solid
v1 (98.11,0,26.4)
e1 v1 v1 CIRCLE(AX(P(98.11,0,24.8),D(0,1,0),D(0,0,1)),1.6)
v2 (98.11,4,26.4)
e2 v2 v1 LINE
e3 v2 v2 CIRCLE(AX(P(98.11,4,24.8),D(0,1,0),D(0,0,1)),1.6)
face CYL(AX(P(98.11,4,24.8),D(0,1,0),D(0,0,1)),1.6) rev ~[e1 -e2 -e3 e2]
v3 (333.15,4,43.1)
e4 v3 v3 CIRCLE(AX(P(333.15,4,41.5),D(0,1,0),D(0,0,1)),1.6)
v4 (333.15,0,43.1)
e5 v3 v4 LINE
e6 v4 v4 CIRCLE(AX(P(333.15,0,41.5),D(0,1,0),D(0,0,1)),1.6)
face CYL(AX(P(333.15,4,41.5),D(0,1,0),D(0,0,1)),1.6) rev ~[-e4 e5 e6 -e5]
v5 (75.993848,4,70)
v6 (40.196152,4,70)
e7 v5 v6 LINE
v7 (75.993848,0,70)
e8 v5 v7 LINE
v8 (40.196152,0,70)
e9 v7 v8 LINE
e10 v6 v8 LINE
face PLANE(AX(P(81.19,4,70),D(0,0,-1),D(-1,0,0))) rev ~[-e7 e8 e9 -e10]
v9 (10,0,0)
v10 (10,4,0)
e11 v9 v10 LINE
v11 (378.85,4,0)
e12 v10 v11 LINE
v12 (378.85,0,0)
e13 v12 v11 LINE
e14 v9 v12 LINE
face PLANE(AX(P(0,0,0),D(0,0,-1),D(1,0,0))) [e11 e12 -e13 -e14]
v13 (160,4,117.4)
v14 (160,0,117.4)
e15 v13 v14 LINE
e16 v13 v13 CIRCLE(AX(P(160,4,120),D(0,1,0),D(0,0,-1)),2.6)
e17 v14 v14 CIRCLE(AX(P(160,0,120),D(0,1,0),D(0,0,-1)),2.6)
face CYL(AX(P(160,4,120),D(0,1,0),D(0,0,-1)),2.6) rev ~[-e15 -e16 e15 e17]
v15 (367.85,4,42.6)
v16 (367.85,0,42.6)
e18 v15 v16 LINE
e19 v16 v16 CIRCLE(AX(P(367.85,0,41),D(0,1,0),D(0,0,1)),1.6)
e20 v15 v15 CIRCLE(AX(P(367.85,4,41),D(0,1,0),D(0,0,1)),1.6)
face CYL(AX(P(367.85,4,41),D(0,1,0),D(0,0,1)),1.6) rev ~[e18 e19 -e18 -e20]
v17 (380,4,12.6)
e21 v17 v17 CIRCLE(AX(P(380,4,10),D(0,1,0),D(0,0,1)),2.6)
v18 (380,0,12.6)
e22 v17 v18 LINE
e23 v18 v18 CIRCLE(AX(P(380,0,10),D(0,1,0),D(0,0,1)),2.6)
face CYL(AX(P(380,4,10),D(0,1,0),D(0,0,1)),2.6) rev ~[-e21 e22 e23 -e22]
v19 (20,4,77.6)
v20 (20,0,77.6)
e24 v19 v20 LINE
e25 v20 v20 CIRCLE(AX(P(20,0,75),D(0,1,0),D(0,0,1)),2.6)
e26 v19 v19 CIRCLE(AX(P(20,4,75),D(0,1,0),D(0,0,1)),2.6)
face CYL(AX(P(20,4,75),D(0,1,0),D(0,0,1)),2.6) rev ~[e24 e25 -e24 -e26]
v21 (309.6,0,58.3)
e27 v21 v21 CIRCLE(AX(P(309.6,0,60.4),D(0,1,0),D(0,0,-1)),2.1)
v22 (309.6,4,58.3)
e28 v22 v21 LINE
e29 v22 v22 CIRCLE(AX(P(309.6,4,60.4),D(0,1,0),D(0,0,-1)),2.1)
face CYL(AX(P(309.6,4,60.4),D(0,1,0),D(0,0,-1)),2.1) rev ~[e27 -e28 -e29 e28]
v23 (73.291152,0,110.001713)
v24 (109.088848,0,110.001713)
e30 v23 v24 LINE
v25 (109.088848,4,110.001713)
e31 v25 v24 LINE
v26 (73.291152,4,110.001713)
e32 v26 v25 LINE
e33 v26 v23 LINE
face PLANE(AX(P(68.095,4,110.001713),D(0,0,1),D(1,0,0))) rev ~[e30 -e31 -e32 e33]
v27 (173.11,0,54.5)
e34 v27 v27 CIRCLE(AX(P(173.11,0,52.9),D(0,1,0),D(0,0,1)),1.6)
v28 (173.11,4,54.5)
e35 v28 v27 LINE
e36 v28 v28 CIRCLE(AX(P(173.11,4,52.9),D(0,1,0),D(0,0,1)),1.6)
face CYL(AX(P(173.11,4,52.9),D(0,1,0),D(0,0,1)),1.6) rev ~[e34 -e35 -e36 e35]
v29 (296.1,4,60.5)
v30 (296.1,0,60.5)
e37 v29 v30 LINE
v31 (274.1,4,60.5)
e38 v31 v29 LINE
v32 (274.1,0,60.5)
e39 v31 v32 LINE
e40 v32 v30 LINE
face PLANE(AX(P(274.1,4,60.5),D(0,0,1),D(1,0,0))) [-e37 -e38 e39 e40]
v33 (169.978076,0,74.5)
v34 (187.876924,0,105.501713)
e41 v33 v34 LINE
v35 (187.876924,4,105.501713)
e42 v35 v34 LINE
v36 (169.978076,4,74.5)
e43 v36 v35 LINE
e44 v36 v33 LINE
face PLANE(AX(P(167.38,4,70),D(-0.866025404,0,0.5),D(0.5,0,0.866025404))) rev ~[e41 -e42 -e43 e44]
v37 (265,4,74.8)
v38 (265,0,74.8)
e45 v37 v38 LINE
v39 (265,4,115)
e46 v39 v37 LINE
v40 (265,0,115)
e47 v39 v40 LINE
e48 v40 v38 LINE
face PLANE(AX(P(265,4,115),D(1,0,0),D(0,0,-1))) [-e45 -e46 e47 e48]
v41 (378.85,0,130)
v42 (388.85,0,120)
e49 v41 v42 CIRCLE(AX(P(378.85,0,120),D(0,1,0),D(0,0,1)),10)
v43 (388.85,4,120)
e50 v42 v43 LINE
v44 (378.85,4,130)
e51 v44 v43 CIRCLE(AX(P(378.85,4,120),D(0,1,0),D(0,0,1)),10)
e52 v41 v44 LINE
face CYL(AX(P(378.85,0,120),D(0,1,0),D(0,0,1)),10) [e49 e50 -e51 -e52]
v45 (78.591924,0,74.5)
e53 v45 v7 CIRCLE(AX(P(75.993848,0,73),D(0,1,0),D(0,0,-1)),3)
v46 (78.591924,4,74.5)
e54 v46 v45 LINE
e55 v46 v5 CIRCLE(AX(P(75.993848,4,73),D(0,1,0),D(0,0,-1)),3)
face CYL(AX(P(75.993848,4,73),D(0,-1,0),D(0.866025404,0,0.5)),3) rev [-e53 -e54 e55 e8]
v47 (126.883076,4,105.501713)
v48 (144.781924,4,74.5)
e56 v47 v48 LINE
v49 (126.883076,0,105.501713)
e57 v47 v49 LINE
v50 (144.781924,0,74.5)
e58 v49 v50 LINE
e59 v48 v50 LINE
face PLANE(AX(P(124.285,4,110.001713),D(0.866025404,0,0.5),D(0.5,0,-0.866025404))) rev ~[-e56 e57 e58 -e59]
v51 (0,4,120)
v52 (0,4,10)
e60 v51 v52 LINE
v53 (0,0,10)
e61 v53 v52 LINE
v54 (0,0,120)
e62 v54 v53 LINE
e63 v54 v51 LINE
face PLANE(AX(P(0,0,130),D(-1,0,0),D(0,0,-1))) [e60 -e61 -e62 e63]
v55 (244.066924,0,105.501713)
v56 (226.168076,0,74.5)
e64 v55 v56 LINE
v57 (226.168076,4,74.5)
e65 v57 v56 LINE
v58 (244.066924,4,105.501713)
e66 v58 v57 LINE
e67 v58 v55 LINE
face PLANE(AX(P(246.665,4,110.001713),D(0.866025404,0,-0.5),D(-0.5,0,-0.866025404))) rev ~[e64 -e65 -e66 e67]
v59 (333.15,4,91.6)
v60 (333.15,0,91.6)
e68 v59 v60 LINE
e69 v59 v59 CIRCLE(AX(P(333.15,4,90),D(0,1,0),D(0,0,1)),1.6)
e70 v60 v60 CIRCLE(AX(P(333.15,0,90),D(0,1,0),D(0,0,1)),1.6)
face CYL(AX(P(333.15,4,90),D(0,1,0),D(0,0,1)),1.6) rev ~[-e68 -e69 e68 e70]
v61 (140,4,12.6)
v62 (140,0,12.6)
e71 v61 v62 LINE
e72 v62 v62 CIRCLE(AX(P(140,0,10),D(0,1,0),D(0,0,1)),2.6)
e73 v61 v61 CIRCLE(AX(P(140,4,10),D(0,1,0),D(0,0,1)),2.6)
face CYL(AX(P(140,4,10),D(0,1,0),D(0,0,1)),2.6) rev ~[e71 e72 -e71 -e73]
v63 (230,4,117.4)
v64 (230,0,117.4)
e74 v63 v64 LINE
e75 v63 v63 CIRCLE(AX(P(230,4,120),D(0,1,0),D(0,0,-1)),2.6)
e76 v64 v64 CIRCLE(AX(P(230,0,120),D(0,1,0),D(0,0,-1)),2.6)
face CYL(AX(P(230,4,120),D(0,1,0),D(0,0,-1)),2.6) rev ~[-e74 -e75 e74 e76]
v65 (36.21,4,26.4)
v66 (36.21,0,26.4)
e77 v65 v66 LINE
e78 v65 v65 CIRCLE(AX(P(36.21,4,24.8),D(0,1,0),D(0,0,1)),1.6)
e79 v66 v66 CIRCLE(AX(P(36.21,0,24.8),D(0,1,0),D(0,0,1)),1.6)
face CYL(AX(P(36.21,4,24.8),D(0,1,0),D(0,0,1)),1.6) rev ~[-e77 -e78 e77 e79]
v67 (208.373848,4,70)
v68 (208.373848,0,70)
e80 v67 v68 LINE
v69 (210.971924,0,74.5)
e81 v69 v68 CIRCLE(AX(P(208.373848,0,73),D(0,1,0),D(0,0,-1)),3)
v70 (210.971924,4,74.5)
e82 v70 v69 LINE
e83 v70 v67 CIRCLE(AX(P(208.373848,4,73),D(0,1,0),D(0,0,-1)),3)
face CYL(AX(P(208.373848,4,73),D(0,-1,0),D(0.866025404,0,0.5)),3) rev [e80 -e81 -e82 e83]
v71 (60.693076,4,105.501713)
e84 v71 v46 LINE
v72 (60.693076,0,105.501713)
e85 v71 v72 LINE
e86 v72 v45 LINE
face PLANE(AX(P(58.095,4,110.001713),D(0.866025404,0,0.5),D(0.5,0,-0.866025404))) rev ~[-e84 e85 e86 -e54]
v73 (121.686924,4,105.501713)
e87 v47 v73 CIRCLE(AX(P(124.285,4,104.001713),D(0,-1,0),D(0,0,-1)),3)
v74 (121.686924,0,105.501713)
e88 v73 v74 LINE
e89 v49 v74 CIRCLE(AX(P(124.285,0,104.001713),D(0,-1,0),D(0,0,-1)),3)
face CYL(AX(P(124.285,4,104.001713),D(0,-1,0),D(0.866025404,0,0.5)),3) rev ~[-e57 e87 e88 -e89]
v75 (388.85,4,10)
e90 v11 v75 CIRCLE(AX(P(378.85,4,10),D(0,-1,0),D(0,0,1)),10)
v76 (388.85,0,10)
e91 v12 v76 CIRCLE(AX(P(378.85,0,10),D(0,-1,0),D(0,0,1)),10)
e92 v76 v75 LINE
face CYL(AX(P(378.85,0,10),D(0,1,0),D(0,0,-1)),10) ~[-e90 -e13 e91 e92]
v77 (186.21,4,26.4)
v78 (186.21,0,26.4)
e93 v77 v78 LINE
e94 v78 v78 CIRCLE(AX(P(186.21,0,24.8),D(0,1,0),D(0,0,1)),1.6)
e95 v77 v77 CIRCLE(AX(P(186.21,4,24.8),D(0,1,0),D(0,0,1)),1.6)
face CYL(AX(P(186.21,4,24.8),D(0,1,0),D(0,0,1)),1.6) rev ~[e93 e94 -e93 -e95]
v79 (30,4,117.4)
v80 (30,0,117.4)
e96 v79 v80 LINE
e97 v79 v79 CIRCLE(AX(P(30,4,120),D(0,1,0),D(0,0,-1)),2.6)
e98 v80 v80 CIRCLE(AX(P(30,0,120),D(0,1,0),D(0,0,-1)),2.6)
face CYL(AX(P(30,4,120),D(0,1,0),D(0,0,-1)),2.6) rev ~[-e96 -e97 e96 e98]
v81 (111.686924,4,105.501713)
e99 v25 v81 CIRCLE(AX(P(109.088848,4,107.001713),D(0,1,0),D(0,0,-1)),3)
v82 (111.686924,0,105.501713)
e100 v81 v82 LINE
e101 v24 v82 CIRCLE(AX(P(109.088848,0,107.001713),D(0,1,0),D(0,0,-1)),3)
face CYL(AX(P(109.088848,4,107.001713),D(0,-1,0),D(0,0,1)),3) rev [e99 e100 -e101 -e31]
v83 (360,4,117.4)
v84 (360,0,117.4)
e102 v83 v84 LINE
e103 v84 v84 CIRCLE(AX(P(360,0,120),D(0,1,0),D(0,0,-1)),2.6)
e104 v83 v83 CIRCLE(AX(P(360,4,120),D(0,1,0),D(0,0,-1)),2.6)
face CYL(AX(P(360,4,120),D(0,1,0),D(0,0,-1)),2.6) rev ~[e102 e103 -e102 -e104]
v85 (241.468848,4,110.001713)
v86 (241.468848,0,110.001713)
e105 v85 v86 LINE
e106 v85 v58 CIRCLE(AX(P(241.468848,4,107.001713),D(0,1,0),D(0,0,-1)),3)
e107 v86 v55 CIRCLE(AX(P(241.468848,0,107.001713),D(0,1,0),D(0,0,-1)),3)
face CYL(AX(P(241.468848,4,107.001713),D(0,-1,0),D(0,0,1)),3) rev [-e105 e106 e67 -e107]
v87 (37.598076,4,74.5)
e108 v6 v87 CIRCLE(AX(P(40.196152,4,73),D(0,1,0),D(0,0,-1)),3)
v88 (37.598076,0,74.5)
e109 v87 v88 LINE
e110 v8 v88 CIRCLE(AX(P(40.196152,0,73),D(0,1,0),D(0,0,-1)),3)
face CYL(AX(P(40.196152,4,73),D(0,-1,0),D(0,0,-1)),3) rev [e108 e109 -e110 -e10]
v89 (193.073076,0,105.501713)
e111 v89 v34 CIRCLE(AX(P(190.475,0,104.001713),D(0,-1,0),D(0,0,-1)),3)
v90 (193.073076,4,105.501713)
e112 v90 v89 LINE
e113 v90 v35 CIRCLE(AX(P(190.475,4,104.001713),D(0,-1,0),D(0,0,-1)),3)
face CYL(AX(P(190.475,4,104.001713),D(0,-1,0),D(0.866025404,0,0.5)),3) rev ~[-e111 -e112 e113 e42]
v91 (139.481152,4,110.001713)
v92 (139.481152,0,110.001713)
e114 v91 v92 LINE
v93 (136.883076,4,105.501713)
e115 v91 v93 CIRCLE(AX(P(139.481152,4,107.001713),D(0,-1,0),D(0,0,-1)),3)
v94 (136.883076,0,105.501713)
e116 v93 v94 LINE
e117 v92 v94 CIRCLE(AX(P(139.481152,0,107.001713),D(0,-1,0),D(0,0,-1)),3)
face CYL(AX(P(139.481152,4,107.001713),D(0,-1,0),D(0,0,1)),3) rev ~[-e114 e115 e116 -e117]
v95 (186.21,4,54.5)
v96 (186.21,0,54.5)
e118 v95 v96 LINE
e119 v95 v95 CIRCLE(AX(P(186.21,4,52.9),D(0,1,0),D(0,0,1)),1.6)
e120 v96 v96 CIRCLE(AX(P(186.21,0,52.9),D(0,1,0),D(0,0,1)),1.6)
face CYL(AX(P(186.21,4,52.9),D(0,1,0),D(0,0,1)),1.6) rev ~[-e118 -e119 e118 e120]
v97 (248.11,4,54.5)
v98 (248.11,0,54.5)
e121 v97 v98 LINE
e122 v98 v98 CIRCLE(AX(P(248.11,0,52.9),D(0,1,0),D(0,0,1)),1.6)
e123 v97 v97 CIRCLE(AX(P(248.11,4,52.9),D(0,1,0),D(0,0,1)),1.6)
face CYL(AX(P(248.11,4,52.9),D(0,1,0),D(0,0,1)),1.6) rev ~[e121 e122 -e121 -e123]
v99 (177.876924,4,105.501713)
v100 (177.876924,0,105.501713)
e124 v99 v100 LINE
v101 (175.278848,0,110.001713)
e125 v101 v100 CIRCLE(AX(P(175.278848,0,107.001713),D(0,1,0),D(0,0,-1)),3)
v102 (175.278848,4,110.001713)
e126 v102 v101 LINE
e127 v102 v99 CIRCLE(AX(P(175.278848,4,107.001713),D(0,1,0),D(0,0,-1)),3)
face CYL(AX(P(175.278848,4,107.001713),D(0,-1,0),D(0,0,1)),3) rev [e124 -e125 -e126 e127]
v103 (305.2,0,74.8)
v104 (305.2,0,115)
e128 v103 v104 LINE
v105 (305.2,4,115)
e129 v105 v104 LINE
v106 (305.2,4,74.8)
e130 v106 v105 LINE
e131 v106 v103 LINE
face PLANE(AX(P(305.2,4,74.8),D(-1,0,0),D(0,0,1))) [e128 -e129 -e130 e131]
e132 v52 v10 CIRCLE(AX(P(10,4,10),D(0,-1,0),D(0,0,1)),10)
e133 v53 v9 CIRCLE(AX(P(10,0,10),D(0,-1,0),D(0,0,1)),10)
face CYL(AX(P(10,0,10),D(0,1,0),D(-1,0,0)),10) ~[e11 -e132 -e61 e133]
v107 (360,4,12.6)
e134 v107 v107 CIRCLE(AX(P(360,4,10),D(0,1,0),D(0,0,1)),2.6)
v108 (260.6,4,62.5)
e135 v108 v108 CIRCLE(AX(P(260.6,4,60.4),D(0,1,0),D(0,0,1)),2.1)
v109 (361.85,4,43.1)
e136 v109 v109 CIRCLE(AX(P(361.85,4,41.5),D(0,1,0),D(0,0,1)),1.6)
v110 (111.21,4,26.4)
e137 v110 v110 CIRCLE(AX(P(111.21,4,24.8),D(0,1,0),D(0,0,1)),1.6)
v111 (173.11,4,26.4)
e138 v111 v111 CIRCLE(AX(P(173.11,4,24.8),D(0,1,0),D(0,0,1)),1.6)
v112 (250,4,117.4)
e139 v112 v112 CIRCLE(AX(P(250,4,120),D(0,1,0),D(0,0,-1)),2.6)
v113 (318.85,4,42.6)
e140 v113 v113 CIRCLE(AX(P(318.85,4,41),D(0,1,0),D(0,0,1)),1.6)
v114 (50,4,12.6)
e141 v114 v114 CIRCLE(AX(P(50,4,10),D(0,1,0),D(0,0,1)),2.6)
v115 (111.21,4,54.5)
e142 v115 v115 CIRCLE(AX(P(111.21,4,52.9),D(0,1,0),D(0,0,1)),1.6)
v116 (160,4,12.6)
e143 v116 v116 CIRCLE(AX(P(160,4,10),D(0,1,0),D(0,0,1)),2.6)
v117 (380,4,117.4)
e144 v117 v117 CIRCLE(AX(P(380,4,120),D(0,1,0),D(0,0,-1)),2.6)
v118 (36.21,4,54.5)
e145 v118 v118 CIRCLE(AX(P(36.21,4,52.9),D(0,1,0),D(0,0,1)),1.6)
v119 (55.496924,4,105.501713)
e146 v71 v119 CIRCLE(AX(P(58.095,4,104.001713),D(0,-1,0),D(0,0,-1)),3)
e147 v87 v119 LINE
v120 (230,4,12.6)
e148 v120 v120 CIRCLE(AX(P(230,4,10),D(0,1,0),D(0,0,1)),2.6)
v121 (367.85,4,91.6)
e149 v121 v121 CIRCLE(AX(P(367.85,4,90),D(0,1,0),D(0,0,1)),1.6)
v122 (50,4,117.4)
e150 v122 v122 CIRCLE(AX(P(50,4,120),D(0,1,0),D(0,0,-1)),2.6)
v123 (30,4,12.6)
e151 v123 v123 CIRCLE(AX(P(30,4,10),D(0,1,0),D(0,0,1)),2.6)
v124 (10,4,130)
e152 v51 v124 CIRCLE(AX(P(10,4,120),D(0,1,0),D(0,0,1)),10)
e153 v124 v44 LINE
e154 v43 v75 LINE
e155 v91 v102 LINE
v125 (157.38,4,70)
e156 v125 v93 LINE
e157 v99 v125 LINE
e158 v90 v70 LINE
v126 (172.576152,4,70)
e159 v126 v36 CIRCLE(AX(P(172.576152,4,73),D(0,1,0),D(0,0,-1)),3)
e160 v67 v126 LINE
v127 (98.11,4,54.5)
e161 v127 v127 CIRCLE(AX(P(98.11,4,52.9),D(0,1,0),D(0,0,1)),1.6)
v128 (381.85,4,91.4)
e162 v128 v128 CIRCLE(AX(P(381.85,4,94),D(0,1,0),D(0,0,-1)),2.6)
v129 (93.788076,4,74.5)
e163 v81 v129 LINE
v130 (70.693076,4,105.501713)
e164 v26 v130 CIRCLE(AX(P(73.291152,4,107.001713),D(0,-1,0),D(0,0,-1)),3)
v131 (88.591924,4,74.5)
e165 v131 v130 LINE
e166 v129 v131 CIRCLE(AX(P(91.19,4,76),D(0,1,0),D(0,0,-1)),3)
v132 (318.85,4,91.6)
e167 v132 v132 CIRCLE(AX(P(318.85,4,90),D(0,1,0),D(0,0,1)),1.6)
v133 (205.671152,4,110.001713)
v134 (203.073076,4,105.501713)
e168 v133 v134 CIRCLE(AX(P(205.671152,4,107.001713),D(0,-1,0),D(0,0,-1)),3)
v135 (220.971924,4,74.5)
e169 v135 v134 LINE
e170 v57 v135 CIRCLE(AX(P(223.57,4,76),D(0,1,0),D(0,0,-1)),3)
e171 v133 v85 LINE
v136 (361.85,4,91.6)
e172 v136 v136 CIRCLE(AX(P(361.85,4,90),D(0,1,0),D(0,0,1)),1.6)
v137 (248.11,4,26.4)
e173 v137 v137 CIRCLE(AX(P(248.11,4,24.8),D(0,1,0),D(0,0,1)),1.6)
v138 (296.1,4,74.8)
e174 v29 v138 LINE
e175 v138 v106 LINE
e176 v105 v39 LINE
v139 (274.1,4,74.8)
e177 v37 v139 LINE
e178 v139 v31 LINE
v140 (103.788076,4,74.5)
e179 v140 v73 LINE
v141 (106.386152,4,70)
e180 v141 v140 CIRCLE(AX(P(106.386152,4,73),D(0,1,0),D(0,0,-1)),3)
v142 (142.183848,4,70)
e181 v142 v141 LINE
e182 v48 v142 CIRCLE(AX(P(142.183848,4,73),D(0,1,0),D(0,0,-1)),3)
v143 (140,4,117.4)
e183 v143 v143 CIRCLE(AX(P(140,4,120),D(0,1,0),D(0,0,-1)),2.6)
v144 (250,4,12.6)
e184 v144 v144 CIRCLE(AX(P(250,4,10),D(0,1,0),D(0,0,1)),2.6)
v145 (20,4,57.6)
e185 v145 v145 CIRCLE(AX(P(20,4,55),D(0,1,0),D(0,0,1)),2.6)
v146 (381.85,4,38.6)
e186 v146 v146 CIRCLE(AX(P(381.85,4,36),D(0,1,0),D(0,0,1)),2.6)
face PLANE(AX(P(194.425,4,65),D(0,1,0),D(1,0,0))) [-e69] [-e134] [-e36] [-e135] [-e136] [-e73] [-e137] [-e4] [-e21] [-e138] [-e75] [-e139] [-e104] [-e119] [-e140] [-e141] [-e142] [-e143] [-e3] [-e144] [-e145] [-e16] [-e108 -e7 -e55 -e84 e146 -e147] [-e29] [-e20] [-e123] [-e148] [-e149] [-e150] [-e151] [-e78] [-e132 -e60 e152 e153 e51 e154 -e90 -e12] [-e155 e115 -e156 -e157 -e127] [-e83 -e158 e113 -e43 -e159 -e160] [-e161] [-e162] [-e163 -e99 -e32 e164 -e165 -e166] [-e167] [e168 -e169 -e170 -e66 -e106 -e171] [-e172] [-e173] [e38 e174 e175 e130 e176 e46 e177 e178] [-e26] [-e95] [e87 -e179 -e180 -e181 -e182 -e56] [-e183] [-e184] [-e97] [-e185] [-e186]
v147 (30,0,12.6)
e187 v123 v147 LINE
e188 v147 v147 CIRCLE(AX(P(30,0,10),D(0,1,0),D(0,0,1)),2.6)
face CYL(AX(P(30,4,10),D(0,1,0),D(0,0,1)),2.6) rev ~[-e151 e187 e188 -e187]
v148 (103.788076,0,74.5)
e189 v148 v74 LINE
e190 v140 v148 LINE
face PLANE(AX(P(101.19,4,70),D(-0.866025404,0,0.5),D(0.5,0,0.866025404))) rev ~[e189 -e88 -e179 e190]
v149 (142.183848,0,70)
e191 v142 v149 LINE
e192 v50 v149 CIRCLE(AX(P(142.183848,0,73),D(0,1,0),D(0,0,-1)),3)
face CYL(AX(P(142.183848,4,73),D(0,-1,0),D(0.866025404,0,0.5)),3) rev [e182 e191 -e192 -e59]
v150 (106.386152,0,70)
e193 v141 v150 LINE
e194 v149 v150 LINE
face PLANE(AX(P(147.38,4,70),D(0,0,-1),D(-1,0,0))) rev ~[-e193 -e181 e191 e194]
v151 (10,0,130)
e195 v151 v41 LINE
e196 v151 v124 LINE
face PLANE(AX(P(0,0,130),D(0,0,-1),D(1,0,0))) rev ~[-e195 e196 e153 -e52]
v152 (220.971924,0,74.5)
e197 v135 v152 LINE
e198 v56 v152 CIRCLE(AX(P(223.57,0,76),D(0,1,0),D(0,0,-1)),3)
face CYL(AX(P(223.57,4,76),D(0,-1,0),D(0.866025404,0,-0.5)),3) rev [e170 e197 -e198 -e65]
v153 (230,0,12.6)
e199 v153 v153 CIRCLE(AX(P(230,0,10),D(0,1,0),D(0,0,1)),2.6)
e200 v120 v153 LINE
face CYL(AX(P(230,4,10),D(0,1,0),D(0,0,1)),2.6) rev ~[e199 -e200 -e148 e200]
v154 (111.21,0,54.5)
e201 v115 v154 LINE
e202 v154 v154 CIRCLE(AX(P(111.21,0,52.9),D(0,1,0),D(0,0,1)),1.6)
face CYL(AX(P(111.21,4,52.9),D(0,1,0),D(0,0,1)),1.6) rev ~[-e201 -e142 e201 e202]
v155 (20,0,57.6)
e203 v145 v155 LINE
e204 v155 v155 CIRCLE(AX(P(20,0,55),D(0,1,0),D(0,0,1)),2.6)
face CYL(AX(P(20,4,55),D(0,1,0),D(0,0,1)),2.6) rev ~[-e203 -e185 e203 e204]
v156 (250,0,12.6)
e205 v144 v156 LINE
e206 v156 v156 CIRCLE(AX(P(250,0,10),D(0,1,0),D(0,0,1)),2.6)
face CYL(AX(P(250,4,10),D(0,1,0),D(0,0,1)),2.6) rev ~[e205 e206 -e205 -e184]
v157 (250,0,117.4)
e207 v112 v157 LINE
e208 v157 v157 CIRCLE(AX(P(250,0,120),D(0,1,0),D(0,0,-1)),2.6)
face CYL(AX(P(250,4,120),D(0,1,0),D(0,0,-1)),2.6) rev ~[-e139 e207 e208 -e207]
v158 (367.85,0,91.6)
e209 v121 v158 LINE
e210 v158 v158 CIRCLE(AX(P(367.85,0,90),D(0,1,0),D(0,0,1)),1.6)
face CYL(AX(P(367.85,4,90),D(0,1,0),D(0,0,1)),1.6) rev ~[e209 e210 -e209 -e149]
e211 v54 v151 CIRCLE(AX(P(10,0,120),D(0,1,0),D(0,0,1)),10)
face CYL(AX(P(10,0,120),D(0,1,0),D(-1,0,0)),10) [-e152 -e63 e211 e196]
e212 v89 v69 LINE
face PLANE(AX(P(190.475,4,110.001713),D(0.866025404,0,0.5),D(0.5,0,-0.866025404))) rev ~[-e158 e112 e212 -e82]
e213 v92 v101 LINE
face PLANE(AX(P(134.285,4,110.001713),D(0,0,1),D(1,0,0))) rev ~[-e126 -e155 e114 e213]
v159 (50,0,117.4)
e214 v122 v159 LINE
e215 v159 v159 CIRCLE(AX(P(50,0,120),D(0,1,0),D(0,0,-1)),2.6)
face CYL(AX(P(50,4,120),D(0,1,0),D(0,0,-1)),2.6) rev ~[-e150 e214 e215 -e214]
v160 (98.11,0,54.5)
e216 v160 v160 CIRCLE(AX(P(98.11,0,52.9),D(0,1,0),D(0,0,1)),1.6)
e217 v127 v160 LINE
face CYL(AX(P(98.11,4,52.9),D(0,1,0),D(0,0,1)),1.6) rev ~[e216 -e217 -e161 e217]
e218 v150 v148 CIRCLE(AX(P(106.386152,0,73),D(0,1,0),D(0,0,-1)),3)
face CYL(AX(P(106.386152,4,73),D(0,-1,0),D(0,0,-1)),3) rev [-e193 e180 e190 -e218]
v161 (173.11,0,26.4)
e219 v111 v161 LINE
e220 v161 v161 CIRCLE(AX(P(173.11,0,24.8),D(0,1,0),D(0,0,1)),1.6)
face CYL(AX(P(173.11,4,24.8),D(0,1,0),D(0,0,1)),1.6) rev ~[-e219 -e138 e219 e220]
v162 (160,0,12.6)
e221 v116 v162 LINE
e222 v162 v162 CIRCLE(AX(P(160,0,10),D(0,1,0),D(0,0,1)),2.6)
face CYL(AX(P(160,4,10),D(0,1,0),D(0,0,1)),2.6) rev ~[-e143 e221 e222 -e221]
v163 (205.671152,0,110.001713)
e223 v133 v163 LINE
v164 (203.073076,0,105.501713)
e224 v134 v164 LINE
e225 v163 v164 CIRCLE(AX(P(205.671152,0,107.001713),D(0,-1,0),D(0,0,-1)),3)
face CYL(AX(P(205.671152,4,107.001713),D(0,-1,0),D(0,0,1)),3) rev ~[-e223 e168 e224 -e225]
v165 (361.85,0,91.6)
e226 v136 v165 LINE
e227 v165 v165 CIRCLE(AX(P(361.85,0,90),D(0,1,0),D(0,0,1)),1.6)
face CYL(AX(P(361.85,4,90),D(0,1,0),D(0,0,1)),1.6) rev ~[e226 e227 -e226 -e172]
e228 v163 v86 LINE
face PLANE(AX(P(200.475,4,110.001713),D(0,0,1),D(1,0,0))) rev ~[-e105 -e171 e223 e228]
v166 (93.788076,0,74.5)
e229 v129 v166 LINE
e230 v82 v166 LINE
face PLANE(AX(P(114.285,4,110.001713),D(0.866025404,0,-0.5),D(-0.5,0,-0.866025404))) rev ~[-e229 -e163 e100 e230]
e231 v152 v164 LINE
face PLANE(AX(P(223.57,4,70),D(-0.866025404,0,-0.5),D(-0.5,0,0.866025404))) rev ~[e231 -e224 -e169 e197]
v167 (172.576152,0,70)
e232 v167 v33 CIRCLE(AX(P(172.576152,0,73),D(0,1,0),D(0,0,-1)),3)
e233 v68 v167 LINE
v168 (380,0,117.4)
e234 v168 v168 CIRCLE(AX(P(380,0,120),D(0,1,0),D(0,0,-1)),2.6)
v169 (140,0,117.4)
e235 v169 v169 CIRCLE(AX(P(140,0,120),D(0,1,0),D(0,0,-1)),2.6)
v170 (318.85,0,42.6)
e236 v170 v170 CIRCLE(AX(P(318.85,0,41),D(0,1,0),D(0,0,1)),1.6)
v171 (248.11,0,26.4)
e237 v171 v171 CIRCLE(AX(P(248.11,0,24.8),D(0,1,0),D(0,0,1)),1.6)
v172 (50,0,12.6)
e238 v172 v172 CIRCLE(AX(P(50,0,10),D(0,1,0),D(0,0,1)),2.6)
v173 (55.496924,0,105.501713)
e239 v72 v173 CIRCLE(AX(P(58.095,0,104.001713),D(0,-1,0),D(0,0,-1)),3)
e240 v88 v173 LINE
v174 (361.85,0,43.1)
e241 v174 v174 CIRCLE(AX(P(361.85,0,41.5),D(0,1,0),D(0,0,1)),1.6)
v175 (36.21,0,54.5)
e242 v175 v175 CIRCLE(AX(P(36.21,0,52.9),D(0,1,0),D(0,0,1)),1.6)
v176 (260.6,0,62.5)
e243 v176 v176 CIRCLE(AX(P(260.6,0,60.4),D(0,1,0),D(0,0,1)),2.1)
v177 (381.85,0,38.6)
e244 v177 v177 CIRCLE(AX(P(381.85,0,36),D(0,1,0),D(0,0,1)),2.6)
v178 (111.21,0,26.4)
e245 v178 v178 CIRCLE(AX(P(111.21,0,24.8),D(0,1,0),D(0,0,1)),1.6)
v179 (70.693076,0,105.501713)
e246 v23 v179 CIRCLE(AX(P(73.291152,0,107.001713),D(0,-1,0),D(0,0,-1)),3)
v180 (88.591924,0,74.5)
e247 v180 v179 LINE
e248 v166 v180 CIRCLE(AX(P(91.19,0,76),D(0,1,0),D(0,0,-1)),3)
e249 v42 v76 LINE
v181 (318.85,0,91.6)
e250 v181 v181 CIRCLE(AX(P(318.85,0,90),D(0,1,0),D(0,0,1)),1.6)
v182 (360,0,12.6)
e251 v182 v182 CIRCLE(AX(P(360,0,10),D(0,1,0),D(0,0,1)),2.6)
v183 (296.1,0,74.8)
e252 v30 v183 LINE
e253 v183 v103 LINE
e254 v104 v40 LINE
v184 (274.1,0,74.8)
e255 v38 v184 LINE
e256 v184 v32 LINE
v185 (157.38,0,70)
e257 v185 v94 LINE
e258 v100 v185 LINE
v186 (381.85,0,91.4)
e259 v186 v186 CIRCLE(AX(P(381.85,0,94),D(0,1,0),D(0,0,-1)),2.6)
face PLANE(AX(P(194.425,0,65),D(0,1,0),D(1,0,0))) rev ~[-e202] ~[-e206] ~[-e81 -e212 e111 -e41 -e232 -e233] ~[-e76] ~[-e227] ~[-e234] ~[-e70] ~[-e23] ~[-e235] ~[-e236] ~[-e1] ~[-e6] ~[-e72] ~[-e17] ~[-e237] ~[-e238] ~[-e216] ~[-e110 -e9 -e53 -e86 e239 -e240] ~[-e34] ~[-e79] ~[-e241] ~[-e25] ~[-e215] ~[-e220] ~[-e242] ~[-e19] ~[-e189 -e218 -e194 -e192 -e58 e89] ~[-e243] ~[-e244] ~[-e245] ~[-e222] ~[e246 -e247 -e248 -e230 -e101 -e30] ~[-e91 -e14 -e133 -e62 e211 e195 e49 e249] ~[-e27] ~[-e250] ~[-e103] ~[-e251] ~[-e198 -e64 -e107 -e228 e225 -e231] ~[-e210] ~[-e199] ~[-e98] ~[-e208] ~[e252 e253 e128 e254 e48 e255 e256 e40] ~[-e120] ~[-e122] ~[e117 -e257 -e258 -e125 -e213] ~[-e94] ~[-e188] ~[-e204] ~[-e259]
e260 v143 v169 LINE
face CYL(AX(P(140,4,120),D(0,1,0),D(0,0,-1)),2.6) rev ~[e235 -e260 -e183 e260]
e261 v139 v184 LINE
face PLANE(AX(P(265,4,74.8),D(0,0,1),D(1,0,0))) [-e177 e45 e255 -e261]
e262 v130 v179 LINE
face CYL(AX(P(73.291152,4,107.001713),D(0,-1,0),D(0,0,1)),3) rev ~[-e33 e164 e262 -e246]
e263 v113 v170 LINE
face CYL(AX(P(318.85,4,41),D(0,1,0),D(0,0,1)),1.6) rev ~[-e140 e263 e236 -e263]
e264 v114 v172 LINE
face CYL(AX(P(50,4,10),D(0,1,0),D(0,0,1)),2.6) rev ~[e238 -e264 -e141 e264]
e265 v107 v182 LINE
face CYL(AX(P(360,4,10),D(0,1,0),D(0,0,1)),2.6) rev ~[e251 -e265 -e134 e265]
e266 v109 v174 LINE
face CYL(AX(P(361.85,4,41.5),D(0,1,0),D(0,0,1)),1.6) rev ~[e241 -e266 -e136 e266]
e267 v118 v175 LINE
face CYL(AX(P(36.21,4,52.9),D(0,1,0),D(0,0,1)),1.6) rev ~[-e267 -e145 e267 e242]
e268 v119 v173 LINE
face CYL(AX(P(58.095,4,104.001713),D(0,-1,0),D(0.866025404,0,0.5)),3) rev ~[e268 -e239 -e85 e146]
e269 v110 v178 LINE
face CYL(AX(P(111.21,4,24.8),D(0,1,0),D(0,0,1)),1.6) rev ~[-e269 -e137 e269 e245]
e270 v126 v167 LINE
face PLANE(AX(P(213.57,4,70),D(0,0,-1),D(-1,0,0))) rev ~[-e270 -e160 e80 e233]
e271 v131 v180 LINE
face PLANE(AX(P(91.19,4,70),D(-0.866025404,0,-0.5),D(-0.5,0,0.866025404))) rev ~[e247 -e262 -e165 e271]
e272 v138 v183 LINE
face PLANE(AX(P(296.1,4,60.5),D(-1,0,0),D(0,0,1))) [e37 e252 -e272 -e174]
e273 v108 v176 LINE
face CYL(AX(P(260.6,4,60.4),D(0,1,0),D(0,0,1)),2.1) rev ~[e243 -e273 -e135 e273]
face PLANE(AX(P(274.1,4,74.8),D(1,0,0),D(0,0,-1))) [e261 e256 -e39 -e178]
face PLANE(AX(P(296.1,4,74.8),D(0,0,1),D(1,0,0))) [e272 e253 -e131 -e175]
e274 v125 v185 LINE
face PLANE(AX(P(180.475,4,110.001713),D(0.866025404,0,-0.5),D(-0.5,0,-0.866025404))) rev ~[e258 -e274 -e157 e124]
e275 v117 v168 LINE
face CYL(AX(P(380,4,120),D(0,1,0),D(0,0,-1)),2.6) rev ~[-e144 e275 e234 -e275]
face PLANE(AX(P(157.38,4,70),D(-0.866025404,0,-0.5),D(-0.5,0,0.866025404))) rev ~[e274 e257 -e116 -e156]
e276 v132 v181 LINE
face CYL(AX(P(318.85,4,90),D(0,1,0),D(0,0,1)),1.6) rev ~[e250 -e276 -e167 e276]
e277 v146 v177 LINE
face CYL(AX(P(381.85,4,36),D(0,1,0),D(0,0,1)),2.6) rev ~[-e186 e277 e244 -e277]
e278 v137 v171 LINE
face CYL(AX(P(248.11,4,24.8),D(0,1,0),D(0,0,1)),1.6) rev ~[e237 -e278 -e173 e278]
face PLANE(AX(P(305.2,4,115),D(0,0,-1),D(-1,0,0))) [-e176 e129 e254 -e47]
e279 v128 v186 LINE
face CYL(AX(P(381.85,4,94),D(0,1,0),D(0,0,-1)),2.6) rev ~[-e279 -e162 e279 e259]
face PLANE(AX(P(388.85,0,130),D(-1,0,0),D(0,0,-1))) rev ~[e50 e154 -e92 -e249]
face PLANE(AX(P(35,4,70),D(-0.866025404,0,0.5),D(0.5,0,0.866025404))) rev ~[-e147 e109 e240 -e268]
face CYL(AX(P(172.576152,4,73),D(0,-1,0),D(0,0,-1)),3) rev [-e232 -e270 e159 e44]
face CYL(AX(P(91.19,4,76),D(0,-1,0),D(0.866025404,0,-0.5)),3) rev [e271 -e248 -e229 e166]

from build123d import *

# Parameters (mm, degrees)
SKETCH_1_W          = 388.85
SKETCH_1_H          = 130
EXTRUDE_1_DEPTH     = 4
SKETCH_2_R          = 1.6
CUT_EXTRUDE_1_DEPTH = 4
SKETCH_3_R          = 2.6
CUT_EXTRUDE_2_DEPTH = 411.024782788
SKETCH_5_R          = 2.6
CUT_EXTRUDE_3_DEPTH = 411.024782788
SKETCH_7_R          = 2.1
CUT_EXTRUDE_5_DEPTH = 411.024782788
SKETCH_8_R          = 1.6
CUT_EXTRUDE_6_DEPTH = 411.024782788
SKETCH_9_R          = 1.6
CUT_EXTRUDE_7_DEPTH = 411.024782788
SKETCH_10_R         = 2.6
CUT_EXTRUDE_8_DEPTH = 411.024782788
FILLET_1_R          = 10
CUT_EXTRUDE_9_DEPTH = 411.024782788
FILLET_2_R          = 3


with BuildPart() as part:
    # 草图1 → 凸台-拉伸1 (new body)
    with BuildSketch(Plane(origin=(0, 0, 0), x_dir=(1, 0, 0), z_dir=(0, 1, 0))):
        with Locations((194.425, -65)):
            Rectangle(SKETCH_1_W, SKETCH_1_H)
    extrude(amount=EXTRUDE_1_DEPTH)

    # 草图2 → 切除-拉伸1 (cut)
    with BuildSketch(Plane(origin=(0, 4, 0), x_dir=(1, 0, 0), z_dir=(0, 1, 0))):
        with Locations(Location((36.21, -52.9, 0), (0, 0, 270))):
            Circle(SKETCH_2_R)
        with Locations(Location((98.11, -52.9, 0), (0, 0, 270))):
            Circle(SKETCH_2_R)
        with Locations(Location((98.11, -24.8, 0), (0, 0, 270))):
            Circle(SKETCH_2_R)
        with Locations(Location((111.21, -24.8, 0), (0, 0, 270))):
            Circle(SKETCH_2_R)
        with Locations(Location((111.21, -52.9, 0), (0, 0, 270))):
            Circle(SKETCH_2_R)
        with Locations(Location((173.11, -24.8, 0), (0, 0, 270))):
            Circle(SKETCH_2_R)
        with Locations(Location((173.11, -52.9, 0), (0, 0, 270))):
            Circle(SKETCH_2_R)
        with Locations(Location((186.21, -24.8, 0), (0, 0, 270))):
            Circle(SKETCH_2_R)
        with Locations(Location((186.21, -52.9, 0), (0, 0, 270))):
            Circle(SKETCH_2_R)
        with Locations(Location((248.11, -52.9, 0), (0, 0, 270))):
            Circle(SKETCH_2_R)
        with Locations(Location((36.21, -24.8, 0), (0, 0, 270))):
            Circle(SKETCH_2_R)
        with Locations(Location((248.11, -24.8, 0), (0, 0, 270))):
            Circle(SKETCH_2_R)
    extrude(amount=-CUT_EXTRUDE_1_DEPTH, mode=Mode.SUBTRACT)

    # 草图3 → 切除-拉伸2 (cut, through all)
    with BuildSketch(Plane(origin=(0, 4, 0), x_dir=(1, 0, 0), z_dir=(0, 1, 0))):
        with Locations(Location((20, -75, 0), (0, 0, 270))):
            Circle(SKETCH_3_R)
        with Locations(Location((20, -55, 0), (0, 0, 270))):
            Circle(SKETCH_3_R)
    extrude(amount=-CUT_EXTRUDE_2_DEPTH, mode=Mode.SUBTRACT)

    # 草图5 → 切除-拉伸3 (cut, through all)
    with BuildSketch(Plane(origin=(0, 4, 0), x_dir=(1, 0, 0), z_dir=(0, 1, 0))):
        with Locations(Location((30, -10, 0), (0, 0, 270))):
            Circle(SKETCH_5_R)
        with Locations(Location((50, -10, 0), (0, 0, 270))):
            Circle(SKETCH_5_R)
        with Locations(Location((140, -10, 0), (0, 0, 270))):
            Circle(SKETCH_5_R)
        with Locations(Location((160, -10, 0), (0, 0, 270))):
            Circle(SKETCH_5_R)
        with Locations(Location((230, -10, 0), (0, 0, 270))):
            Circle(SKETCH_5_R)
        with Locations(Location((250, -10, 0), (0, 0, 270))):
            Circle(SKETCH_5_R)
        with Locations(Location((360, -10, 0), (0, 0, 270))):
            Circle(SKETCH_5_R)
        with Locations(Location((380, -10, 0), (0, 0, 270))):
            Circle(SKETCH_5_R)
        with Locations(Location((380, -120, 0), (0, 0, 90))):
            Circle(SKETCH_5_R)
        with Locations(Location((360, -120, 0), (0, 0, 90))):
            Circle(SKETCH_5_R)
        with Locations(Location((250, -120, 0), (0, 0, 90))):
            Circle(SKETCH_5_R)
        with Locations(Location((230, -120, 0), (0, 0, 90))):
            Circle(SKETCH_5_R)
        with Locations(Location((160, -120, 0), (0, 0, 90))):
            Circle(SKETCH_5_R)
        with Locations(Location((140, -120, 0), (0, 0, 90))):
            Circle(SKETCH_5_R)
        with Locations(Location((50, -120, 0), (0, 0, 90))):
            Circle(SKETCH_5_R)
        with Locations(Location((30, -120, 0), (0, 0, 90))):
            Circle(SKETCH_5_R)
    extrude(amount=-CUT_EXTRUDE_3_DEPTH, mode=Mode.SUBTRACT)

    # 草图7 → 切除-拉伸5 (cut, through all)
    with BuildSketch(Plane(origin=(0, 4, 0), x_dir=(1, 0, 0), z_dir=(0, 1, 0))):
        with Locations(Location((260.6, -60.4, 0), (0, 0, 270))):
            Circle(SKETCH_7_R)
        with Locations(Location((309.6, -60.4, 0), (0, 0, 90))):
            Circle(SKETCH_7_R)
        Polygon((305.2, -74.8), (305.2, -115), (265, -115), (265, -74.8), (274.1, -74.8), (274.1, -60.5), (296.1, -60.5), (296.1, -74.8), align=None)
    extrude(amount=-CUT_EXTRUDE_5_DEPTH, mode=Mode.SUBTRACT)

    # 草图8 → 切除-拉伸6 (cut, through all)
    with BuildSketch(Plane(origin=(0, 4, 0), x_dir=(1, 0, 0), z_dir=(0, 1, 0))):
        with Locations(Location((318.85, -41, 0), (0, 0, 270))):
            Circle(SKETCH_8_R)
        with Locations(Location((367.85, -41, 0), (0, 0, 270))):
            Circle(SKETCH_8_R)
        with Locations(Location((318.85, -90, 0), (0, 0, 270))):
            Circle(SKETCH_8_R)
        with Locations(Location((367.85, -90, 0), (0, 0, 270))):
            Circle(SKETCH_8_R)
    extrude(amount=-CUT_EXTRUDE_6_DEPTH, mode=Mode.SUBTRACT)

    # 草图9 → 切除-拉伸7 (cut, through all)
    with BuildSketch(Plane(origin=(0, 4, 0), x_dir=(1, 0, 0), z_dir=(0, 1, 0))):
        with Locations(Location((333.15, -41.5, 0), (0, 0, 270))):
            Circle(SKETCH_9_R)
        with Locations(Location((361.85, -41.5, 0), (0, 0, 270))):
            Circle(SKETCH_9_R)
        with Locations(Location((333.15, -90, 0), (0, 0, 270))):
            Circle(SKETCH_9_R)
        with Locations(Location((361.85, -90, 0), (0, 0, 270))):
            Circle(SKETCH_9_R)
    extrude(amount=-CUT_EXTRUDE_7_DEPTH, mode=Mode.SUBTRACT)

    # 草图10 → 切除-拉伸8 (cut, through all)
    with BuildSketch(Plane(origin=(0, 4, 0), x_dir=(1, 0, 0), z_dir=(0, 1, 0))):
        with Locations(Location((381.85, -36, 0), (0, 0, 270))):
            Circle(SKETCH_10_R)
        with Locations(Location((381.85, -94, 0), (0, 0, 90))):
            Circle(SKETCH_10_R)
    extrude(amount=-CUT_EXTRUDE_8_DEPTH, mode=Mode.SUBTRACT)

    # 圆角1
    fillet_1_edges = [part.edges().sort_by_distance(p)[0] for p in [
        (0, 2, 0),
        (388.85, 2, 0),
        (388.85, 2, 130),
        (0, 2, 130),
    ]]
    fillet(fillet_1_edges, radius=FILLET_1_R)

    # 草图11 → 切除-拉伸9 (cut, through all)
    with BuildSketch(Plane(origin=(0, 4, 0), x_dir=(1, 0, 0), z_dir=(0, 1, 0))):
        Polygon((58.095, -110.001713401), (81.19, -70), (35, -70), align=None)
        Polygon((68.095, -110.001713401), (114.285, -110.001713401), (91.19, -70), align=None)
        Polygon((124.285, -110.001713401), (147.38, -70), (101.19, -70), align=None)
        Polygon((134.285, -110.001713401), (180.475, -110.001713401), (157.38, -70), align=None)
        Polygon((190.475, -110.001713401), (213.57, -70), (167.38, -70), align=None)
        Polygon((200.475, -110.001713401), (246.665, -110.001713401), (223.57, -70), align=None)
    extrude(amount=-CUT_EXTRUDE_9_DEPTH, mode=Mode.SUBTRACT)

    # 圆角2
    fillet_2_edges = [part.edges().sort_by_distance(p)[0] for p in [
        (134.285, 2, 110.001713401),
        (180.475, 2, 110.001713401),
        (190.475, 2, 110.001713401),
        (167.38, 2, 70),
        (213.57, 2, 70),
        (68.095, 2, 110.001713401),
        (91.19, 2, 70),
        (114.285, 2, 110.001713401),
        (124.285, 2, 110.001713401),
        (101.19, 2, 70),
        (147.38, 2, 70),
        (200.475, 2, 110.001713401),
        (223.57, 2, 70),
        (246.665, 2, 110.001713401),
        (58.095, 2, 110.001713401),
        (35, 2, 70),
        (81.19, 2, 70),
    ]]
    fillet(fillet_2_edges, radius=FILLET_2_R)


solid = part.part
